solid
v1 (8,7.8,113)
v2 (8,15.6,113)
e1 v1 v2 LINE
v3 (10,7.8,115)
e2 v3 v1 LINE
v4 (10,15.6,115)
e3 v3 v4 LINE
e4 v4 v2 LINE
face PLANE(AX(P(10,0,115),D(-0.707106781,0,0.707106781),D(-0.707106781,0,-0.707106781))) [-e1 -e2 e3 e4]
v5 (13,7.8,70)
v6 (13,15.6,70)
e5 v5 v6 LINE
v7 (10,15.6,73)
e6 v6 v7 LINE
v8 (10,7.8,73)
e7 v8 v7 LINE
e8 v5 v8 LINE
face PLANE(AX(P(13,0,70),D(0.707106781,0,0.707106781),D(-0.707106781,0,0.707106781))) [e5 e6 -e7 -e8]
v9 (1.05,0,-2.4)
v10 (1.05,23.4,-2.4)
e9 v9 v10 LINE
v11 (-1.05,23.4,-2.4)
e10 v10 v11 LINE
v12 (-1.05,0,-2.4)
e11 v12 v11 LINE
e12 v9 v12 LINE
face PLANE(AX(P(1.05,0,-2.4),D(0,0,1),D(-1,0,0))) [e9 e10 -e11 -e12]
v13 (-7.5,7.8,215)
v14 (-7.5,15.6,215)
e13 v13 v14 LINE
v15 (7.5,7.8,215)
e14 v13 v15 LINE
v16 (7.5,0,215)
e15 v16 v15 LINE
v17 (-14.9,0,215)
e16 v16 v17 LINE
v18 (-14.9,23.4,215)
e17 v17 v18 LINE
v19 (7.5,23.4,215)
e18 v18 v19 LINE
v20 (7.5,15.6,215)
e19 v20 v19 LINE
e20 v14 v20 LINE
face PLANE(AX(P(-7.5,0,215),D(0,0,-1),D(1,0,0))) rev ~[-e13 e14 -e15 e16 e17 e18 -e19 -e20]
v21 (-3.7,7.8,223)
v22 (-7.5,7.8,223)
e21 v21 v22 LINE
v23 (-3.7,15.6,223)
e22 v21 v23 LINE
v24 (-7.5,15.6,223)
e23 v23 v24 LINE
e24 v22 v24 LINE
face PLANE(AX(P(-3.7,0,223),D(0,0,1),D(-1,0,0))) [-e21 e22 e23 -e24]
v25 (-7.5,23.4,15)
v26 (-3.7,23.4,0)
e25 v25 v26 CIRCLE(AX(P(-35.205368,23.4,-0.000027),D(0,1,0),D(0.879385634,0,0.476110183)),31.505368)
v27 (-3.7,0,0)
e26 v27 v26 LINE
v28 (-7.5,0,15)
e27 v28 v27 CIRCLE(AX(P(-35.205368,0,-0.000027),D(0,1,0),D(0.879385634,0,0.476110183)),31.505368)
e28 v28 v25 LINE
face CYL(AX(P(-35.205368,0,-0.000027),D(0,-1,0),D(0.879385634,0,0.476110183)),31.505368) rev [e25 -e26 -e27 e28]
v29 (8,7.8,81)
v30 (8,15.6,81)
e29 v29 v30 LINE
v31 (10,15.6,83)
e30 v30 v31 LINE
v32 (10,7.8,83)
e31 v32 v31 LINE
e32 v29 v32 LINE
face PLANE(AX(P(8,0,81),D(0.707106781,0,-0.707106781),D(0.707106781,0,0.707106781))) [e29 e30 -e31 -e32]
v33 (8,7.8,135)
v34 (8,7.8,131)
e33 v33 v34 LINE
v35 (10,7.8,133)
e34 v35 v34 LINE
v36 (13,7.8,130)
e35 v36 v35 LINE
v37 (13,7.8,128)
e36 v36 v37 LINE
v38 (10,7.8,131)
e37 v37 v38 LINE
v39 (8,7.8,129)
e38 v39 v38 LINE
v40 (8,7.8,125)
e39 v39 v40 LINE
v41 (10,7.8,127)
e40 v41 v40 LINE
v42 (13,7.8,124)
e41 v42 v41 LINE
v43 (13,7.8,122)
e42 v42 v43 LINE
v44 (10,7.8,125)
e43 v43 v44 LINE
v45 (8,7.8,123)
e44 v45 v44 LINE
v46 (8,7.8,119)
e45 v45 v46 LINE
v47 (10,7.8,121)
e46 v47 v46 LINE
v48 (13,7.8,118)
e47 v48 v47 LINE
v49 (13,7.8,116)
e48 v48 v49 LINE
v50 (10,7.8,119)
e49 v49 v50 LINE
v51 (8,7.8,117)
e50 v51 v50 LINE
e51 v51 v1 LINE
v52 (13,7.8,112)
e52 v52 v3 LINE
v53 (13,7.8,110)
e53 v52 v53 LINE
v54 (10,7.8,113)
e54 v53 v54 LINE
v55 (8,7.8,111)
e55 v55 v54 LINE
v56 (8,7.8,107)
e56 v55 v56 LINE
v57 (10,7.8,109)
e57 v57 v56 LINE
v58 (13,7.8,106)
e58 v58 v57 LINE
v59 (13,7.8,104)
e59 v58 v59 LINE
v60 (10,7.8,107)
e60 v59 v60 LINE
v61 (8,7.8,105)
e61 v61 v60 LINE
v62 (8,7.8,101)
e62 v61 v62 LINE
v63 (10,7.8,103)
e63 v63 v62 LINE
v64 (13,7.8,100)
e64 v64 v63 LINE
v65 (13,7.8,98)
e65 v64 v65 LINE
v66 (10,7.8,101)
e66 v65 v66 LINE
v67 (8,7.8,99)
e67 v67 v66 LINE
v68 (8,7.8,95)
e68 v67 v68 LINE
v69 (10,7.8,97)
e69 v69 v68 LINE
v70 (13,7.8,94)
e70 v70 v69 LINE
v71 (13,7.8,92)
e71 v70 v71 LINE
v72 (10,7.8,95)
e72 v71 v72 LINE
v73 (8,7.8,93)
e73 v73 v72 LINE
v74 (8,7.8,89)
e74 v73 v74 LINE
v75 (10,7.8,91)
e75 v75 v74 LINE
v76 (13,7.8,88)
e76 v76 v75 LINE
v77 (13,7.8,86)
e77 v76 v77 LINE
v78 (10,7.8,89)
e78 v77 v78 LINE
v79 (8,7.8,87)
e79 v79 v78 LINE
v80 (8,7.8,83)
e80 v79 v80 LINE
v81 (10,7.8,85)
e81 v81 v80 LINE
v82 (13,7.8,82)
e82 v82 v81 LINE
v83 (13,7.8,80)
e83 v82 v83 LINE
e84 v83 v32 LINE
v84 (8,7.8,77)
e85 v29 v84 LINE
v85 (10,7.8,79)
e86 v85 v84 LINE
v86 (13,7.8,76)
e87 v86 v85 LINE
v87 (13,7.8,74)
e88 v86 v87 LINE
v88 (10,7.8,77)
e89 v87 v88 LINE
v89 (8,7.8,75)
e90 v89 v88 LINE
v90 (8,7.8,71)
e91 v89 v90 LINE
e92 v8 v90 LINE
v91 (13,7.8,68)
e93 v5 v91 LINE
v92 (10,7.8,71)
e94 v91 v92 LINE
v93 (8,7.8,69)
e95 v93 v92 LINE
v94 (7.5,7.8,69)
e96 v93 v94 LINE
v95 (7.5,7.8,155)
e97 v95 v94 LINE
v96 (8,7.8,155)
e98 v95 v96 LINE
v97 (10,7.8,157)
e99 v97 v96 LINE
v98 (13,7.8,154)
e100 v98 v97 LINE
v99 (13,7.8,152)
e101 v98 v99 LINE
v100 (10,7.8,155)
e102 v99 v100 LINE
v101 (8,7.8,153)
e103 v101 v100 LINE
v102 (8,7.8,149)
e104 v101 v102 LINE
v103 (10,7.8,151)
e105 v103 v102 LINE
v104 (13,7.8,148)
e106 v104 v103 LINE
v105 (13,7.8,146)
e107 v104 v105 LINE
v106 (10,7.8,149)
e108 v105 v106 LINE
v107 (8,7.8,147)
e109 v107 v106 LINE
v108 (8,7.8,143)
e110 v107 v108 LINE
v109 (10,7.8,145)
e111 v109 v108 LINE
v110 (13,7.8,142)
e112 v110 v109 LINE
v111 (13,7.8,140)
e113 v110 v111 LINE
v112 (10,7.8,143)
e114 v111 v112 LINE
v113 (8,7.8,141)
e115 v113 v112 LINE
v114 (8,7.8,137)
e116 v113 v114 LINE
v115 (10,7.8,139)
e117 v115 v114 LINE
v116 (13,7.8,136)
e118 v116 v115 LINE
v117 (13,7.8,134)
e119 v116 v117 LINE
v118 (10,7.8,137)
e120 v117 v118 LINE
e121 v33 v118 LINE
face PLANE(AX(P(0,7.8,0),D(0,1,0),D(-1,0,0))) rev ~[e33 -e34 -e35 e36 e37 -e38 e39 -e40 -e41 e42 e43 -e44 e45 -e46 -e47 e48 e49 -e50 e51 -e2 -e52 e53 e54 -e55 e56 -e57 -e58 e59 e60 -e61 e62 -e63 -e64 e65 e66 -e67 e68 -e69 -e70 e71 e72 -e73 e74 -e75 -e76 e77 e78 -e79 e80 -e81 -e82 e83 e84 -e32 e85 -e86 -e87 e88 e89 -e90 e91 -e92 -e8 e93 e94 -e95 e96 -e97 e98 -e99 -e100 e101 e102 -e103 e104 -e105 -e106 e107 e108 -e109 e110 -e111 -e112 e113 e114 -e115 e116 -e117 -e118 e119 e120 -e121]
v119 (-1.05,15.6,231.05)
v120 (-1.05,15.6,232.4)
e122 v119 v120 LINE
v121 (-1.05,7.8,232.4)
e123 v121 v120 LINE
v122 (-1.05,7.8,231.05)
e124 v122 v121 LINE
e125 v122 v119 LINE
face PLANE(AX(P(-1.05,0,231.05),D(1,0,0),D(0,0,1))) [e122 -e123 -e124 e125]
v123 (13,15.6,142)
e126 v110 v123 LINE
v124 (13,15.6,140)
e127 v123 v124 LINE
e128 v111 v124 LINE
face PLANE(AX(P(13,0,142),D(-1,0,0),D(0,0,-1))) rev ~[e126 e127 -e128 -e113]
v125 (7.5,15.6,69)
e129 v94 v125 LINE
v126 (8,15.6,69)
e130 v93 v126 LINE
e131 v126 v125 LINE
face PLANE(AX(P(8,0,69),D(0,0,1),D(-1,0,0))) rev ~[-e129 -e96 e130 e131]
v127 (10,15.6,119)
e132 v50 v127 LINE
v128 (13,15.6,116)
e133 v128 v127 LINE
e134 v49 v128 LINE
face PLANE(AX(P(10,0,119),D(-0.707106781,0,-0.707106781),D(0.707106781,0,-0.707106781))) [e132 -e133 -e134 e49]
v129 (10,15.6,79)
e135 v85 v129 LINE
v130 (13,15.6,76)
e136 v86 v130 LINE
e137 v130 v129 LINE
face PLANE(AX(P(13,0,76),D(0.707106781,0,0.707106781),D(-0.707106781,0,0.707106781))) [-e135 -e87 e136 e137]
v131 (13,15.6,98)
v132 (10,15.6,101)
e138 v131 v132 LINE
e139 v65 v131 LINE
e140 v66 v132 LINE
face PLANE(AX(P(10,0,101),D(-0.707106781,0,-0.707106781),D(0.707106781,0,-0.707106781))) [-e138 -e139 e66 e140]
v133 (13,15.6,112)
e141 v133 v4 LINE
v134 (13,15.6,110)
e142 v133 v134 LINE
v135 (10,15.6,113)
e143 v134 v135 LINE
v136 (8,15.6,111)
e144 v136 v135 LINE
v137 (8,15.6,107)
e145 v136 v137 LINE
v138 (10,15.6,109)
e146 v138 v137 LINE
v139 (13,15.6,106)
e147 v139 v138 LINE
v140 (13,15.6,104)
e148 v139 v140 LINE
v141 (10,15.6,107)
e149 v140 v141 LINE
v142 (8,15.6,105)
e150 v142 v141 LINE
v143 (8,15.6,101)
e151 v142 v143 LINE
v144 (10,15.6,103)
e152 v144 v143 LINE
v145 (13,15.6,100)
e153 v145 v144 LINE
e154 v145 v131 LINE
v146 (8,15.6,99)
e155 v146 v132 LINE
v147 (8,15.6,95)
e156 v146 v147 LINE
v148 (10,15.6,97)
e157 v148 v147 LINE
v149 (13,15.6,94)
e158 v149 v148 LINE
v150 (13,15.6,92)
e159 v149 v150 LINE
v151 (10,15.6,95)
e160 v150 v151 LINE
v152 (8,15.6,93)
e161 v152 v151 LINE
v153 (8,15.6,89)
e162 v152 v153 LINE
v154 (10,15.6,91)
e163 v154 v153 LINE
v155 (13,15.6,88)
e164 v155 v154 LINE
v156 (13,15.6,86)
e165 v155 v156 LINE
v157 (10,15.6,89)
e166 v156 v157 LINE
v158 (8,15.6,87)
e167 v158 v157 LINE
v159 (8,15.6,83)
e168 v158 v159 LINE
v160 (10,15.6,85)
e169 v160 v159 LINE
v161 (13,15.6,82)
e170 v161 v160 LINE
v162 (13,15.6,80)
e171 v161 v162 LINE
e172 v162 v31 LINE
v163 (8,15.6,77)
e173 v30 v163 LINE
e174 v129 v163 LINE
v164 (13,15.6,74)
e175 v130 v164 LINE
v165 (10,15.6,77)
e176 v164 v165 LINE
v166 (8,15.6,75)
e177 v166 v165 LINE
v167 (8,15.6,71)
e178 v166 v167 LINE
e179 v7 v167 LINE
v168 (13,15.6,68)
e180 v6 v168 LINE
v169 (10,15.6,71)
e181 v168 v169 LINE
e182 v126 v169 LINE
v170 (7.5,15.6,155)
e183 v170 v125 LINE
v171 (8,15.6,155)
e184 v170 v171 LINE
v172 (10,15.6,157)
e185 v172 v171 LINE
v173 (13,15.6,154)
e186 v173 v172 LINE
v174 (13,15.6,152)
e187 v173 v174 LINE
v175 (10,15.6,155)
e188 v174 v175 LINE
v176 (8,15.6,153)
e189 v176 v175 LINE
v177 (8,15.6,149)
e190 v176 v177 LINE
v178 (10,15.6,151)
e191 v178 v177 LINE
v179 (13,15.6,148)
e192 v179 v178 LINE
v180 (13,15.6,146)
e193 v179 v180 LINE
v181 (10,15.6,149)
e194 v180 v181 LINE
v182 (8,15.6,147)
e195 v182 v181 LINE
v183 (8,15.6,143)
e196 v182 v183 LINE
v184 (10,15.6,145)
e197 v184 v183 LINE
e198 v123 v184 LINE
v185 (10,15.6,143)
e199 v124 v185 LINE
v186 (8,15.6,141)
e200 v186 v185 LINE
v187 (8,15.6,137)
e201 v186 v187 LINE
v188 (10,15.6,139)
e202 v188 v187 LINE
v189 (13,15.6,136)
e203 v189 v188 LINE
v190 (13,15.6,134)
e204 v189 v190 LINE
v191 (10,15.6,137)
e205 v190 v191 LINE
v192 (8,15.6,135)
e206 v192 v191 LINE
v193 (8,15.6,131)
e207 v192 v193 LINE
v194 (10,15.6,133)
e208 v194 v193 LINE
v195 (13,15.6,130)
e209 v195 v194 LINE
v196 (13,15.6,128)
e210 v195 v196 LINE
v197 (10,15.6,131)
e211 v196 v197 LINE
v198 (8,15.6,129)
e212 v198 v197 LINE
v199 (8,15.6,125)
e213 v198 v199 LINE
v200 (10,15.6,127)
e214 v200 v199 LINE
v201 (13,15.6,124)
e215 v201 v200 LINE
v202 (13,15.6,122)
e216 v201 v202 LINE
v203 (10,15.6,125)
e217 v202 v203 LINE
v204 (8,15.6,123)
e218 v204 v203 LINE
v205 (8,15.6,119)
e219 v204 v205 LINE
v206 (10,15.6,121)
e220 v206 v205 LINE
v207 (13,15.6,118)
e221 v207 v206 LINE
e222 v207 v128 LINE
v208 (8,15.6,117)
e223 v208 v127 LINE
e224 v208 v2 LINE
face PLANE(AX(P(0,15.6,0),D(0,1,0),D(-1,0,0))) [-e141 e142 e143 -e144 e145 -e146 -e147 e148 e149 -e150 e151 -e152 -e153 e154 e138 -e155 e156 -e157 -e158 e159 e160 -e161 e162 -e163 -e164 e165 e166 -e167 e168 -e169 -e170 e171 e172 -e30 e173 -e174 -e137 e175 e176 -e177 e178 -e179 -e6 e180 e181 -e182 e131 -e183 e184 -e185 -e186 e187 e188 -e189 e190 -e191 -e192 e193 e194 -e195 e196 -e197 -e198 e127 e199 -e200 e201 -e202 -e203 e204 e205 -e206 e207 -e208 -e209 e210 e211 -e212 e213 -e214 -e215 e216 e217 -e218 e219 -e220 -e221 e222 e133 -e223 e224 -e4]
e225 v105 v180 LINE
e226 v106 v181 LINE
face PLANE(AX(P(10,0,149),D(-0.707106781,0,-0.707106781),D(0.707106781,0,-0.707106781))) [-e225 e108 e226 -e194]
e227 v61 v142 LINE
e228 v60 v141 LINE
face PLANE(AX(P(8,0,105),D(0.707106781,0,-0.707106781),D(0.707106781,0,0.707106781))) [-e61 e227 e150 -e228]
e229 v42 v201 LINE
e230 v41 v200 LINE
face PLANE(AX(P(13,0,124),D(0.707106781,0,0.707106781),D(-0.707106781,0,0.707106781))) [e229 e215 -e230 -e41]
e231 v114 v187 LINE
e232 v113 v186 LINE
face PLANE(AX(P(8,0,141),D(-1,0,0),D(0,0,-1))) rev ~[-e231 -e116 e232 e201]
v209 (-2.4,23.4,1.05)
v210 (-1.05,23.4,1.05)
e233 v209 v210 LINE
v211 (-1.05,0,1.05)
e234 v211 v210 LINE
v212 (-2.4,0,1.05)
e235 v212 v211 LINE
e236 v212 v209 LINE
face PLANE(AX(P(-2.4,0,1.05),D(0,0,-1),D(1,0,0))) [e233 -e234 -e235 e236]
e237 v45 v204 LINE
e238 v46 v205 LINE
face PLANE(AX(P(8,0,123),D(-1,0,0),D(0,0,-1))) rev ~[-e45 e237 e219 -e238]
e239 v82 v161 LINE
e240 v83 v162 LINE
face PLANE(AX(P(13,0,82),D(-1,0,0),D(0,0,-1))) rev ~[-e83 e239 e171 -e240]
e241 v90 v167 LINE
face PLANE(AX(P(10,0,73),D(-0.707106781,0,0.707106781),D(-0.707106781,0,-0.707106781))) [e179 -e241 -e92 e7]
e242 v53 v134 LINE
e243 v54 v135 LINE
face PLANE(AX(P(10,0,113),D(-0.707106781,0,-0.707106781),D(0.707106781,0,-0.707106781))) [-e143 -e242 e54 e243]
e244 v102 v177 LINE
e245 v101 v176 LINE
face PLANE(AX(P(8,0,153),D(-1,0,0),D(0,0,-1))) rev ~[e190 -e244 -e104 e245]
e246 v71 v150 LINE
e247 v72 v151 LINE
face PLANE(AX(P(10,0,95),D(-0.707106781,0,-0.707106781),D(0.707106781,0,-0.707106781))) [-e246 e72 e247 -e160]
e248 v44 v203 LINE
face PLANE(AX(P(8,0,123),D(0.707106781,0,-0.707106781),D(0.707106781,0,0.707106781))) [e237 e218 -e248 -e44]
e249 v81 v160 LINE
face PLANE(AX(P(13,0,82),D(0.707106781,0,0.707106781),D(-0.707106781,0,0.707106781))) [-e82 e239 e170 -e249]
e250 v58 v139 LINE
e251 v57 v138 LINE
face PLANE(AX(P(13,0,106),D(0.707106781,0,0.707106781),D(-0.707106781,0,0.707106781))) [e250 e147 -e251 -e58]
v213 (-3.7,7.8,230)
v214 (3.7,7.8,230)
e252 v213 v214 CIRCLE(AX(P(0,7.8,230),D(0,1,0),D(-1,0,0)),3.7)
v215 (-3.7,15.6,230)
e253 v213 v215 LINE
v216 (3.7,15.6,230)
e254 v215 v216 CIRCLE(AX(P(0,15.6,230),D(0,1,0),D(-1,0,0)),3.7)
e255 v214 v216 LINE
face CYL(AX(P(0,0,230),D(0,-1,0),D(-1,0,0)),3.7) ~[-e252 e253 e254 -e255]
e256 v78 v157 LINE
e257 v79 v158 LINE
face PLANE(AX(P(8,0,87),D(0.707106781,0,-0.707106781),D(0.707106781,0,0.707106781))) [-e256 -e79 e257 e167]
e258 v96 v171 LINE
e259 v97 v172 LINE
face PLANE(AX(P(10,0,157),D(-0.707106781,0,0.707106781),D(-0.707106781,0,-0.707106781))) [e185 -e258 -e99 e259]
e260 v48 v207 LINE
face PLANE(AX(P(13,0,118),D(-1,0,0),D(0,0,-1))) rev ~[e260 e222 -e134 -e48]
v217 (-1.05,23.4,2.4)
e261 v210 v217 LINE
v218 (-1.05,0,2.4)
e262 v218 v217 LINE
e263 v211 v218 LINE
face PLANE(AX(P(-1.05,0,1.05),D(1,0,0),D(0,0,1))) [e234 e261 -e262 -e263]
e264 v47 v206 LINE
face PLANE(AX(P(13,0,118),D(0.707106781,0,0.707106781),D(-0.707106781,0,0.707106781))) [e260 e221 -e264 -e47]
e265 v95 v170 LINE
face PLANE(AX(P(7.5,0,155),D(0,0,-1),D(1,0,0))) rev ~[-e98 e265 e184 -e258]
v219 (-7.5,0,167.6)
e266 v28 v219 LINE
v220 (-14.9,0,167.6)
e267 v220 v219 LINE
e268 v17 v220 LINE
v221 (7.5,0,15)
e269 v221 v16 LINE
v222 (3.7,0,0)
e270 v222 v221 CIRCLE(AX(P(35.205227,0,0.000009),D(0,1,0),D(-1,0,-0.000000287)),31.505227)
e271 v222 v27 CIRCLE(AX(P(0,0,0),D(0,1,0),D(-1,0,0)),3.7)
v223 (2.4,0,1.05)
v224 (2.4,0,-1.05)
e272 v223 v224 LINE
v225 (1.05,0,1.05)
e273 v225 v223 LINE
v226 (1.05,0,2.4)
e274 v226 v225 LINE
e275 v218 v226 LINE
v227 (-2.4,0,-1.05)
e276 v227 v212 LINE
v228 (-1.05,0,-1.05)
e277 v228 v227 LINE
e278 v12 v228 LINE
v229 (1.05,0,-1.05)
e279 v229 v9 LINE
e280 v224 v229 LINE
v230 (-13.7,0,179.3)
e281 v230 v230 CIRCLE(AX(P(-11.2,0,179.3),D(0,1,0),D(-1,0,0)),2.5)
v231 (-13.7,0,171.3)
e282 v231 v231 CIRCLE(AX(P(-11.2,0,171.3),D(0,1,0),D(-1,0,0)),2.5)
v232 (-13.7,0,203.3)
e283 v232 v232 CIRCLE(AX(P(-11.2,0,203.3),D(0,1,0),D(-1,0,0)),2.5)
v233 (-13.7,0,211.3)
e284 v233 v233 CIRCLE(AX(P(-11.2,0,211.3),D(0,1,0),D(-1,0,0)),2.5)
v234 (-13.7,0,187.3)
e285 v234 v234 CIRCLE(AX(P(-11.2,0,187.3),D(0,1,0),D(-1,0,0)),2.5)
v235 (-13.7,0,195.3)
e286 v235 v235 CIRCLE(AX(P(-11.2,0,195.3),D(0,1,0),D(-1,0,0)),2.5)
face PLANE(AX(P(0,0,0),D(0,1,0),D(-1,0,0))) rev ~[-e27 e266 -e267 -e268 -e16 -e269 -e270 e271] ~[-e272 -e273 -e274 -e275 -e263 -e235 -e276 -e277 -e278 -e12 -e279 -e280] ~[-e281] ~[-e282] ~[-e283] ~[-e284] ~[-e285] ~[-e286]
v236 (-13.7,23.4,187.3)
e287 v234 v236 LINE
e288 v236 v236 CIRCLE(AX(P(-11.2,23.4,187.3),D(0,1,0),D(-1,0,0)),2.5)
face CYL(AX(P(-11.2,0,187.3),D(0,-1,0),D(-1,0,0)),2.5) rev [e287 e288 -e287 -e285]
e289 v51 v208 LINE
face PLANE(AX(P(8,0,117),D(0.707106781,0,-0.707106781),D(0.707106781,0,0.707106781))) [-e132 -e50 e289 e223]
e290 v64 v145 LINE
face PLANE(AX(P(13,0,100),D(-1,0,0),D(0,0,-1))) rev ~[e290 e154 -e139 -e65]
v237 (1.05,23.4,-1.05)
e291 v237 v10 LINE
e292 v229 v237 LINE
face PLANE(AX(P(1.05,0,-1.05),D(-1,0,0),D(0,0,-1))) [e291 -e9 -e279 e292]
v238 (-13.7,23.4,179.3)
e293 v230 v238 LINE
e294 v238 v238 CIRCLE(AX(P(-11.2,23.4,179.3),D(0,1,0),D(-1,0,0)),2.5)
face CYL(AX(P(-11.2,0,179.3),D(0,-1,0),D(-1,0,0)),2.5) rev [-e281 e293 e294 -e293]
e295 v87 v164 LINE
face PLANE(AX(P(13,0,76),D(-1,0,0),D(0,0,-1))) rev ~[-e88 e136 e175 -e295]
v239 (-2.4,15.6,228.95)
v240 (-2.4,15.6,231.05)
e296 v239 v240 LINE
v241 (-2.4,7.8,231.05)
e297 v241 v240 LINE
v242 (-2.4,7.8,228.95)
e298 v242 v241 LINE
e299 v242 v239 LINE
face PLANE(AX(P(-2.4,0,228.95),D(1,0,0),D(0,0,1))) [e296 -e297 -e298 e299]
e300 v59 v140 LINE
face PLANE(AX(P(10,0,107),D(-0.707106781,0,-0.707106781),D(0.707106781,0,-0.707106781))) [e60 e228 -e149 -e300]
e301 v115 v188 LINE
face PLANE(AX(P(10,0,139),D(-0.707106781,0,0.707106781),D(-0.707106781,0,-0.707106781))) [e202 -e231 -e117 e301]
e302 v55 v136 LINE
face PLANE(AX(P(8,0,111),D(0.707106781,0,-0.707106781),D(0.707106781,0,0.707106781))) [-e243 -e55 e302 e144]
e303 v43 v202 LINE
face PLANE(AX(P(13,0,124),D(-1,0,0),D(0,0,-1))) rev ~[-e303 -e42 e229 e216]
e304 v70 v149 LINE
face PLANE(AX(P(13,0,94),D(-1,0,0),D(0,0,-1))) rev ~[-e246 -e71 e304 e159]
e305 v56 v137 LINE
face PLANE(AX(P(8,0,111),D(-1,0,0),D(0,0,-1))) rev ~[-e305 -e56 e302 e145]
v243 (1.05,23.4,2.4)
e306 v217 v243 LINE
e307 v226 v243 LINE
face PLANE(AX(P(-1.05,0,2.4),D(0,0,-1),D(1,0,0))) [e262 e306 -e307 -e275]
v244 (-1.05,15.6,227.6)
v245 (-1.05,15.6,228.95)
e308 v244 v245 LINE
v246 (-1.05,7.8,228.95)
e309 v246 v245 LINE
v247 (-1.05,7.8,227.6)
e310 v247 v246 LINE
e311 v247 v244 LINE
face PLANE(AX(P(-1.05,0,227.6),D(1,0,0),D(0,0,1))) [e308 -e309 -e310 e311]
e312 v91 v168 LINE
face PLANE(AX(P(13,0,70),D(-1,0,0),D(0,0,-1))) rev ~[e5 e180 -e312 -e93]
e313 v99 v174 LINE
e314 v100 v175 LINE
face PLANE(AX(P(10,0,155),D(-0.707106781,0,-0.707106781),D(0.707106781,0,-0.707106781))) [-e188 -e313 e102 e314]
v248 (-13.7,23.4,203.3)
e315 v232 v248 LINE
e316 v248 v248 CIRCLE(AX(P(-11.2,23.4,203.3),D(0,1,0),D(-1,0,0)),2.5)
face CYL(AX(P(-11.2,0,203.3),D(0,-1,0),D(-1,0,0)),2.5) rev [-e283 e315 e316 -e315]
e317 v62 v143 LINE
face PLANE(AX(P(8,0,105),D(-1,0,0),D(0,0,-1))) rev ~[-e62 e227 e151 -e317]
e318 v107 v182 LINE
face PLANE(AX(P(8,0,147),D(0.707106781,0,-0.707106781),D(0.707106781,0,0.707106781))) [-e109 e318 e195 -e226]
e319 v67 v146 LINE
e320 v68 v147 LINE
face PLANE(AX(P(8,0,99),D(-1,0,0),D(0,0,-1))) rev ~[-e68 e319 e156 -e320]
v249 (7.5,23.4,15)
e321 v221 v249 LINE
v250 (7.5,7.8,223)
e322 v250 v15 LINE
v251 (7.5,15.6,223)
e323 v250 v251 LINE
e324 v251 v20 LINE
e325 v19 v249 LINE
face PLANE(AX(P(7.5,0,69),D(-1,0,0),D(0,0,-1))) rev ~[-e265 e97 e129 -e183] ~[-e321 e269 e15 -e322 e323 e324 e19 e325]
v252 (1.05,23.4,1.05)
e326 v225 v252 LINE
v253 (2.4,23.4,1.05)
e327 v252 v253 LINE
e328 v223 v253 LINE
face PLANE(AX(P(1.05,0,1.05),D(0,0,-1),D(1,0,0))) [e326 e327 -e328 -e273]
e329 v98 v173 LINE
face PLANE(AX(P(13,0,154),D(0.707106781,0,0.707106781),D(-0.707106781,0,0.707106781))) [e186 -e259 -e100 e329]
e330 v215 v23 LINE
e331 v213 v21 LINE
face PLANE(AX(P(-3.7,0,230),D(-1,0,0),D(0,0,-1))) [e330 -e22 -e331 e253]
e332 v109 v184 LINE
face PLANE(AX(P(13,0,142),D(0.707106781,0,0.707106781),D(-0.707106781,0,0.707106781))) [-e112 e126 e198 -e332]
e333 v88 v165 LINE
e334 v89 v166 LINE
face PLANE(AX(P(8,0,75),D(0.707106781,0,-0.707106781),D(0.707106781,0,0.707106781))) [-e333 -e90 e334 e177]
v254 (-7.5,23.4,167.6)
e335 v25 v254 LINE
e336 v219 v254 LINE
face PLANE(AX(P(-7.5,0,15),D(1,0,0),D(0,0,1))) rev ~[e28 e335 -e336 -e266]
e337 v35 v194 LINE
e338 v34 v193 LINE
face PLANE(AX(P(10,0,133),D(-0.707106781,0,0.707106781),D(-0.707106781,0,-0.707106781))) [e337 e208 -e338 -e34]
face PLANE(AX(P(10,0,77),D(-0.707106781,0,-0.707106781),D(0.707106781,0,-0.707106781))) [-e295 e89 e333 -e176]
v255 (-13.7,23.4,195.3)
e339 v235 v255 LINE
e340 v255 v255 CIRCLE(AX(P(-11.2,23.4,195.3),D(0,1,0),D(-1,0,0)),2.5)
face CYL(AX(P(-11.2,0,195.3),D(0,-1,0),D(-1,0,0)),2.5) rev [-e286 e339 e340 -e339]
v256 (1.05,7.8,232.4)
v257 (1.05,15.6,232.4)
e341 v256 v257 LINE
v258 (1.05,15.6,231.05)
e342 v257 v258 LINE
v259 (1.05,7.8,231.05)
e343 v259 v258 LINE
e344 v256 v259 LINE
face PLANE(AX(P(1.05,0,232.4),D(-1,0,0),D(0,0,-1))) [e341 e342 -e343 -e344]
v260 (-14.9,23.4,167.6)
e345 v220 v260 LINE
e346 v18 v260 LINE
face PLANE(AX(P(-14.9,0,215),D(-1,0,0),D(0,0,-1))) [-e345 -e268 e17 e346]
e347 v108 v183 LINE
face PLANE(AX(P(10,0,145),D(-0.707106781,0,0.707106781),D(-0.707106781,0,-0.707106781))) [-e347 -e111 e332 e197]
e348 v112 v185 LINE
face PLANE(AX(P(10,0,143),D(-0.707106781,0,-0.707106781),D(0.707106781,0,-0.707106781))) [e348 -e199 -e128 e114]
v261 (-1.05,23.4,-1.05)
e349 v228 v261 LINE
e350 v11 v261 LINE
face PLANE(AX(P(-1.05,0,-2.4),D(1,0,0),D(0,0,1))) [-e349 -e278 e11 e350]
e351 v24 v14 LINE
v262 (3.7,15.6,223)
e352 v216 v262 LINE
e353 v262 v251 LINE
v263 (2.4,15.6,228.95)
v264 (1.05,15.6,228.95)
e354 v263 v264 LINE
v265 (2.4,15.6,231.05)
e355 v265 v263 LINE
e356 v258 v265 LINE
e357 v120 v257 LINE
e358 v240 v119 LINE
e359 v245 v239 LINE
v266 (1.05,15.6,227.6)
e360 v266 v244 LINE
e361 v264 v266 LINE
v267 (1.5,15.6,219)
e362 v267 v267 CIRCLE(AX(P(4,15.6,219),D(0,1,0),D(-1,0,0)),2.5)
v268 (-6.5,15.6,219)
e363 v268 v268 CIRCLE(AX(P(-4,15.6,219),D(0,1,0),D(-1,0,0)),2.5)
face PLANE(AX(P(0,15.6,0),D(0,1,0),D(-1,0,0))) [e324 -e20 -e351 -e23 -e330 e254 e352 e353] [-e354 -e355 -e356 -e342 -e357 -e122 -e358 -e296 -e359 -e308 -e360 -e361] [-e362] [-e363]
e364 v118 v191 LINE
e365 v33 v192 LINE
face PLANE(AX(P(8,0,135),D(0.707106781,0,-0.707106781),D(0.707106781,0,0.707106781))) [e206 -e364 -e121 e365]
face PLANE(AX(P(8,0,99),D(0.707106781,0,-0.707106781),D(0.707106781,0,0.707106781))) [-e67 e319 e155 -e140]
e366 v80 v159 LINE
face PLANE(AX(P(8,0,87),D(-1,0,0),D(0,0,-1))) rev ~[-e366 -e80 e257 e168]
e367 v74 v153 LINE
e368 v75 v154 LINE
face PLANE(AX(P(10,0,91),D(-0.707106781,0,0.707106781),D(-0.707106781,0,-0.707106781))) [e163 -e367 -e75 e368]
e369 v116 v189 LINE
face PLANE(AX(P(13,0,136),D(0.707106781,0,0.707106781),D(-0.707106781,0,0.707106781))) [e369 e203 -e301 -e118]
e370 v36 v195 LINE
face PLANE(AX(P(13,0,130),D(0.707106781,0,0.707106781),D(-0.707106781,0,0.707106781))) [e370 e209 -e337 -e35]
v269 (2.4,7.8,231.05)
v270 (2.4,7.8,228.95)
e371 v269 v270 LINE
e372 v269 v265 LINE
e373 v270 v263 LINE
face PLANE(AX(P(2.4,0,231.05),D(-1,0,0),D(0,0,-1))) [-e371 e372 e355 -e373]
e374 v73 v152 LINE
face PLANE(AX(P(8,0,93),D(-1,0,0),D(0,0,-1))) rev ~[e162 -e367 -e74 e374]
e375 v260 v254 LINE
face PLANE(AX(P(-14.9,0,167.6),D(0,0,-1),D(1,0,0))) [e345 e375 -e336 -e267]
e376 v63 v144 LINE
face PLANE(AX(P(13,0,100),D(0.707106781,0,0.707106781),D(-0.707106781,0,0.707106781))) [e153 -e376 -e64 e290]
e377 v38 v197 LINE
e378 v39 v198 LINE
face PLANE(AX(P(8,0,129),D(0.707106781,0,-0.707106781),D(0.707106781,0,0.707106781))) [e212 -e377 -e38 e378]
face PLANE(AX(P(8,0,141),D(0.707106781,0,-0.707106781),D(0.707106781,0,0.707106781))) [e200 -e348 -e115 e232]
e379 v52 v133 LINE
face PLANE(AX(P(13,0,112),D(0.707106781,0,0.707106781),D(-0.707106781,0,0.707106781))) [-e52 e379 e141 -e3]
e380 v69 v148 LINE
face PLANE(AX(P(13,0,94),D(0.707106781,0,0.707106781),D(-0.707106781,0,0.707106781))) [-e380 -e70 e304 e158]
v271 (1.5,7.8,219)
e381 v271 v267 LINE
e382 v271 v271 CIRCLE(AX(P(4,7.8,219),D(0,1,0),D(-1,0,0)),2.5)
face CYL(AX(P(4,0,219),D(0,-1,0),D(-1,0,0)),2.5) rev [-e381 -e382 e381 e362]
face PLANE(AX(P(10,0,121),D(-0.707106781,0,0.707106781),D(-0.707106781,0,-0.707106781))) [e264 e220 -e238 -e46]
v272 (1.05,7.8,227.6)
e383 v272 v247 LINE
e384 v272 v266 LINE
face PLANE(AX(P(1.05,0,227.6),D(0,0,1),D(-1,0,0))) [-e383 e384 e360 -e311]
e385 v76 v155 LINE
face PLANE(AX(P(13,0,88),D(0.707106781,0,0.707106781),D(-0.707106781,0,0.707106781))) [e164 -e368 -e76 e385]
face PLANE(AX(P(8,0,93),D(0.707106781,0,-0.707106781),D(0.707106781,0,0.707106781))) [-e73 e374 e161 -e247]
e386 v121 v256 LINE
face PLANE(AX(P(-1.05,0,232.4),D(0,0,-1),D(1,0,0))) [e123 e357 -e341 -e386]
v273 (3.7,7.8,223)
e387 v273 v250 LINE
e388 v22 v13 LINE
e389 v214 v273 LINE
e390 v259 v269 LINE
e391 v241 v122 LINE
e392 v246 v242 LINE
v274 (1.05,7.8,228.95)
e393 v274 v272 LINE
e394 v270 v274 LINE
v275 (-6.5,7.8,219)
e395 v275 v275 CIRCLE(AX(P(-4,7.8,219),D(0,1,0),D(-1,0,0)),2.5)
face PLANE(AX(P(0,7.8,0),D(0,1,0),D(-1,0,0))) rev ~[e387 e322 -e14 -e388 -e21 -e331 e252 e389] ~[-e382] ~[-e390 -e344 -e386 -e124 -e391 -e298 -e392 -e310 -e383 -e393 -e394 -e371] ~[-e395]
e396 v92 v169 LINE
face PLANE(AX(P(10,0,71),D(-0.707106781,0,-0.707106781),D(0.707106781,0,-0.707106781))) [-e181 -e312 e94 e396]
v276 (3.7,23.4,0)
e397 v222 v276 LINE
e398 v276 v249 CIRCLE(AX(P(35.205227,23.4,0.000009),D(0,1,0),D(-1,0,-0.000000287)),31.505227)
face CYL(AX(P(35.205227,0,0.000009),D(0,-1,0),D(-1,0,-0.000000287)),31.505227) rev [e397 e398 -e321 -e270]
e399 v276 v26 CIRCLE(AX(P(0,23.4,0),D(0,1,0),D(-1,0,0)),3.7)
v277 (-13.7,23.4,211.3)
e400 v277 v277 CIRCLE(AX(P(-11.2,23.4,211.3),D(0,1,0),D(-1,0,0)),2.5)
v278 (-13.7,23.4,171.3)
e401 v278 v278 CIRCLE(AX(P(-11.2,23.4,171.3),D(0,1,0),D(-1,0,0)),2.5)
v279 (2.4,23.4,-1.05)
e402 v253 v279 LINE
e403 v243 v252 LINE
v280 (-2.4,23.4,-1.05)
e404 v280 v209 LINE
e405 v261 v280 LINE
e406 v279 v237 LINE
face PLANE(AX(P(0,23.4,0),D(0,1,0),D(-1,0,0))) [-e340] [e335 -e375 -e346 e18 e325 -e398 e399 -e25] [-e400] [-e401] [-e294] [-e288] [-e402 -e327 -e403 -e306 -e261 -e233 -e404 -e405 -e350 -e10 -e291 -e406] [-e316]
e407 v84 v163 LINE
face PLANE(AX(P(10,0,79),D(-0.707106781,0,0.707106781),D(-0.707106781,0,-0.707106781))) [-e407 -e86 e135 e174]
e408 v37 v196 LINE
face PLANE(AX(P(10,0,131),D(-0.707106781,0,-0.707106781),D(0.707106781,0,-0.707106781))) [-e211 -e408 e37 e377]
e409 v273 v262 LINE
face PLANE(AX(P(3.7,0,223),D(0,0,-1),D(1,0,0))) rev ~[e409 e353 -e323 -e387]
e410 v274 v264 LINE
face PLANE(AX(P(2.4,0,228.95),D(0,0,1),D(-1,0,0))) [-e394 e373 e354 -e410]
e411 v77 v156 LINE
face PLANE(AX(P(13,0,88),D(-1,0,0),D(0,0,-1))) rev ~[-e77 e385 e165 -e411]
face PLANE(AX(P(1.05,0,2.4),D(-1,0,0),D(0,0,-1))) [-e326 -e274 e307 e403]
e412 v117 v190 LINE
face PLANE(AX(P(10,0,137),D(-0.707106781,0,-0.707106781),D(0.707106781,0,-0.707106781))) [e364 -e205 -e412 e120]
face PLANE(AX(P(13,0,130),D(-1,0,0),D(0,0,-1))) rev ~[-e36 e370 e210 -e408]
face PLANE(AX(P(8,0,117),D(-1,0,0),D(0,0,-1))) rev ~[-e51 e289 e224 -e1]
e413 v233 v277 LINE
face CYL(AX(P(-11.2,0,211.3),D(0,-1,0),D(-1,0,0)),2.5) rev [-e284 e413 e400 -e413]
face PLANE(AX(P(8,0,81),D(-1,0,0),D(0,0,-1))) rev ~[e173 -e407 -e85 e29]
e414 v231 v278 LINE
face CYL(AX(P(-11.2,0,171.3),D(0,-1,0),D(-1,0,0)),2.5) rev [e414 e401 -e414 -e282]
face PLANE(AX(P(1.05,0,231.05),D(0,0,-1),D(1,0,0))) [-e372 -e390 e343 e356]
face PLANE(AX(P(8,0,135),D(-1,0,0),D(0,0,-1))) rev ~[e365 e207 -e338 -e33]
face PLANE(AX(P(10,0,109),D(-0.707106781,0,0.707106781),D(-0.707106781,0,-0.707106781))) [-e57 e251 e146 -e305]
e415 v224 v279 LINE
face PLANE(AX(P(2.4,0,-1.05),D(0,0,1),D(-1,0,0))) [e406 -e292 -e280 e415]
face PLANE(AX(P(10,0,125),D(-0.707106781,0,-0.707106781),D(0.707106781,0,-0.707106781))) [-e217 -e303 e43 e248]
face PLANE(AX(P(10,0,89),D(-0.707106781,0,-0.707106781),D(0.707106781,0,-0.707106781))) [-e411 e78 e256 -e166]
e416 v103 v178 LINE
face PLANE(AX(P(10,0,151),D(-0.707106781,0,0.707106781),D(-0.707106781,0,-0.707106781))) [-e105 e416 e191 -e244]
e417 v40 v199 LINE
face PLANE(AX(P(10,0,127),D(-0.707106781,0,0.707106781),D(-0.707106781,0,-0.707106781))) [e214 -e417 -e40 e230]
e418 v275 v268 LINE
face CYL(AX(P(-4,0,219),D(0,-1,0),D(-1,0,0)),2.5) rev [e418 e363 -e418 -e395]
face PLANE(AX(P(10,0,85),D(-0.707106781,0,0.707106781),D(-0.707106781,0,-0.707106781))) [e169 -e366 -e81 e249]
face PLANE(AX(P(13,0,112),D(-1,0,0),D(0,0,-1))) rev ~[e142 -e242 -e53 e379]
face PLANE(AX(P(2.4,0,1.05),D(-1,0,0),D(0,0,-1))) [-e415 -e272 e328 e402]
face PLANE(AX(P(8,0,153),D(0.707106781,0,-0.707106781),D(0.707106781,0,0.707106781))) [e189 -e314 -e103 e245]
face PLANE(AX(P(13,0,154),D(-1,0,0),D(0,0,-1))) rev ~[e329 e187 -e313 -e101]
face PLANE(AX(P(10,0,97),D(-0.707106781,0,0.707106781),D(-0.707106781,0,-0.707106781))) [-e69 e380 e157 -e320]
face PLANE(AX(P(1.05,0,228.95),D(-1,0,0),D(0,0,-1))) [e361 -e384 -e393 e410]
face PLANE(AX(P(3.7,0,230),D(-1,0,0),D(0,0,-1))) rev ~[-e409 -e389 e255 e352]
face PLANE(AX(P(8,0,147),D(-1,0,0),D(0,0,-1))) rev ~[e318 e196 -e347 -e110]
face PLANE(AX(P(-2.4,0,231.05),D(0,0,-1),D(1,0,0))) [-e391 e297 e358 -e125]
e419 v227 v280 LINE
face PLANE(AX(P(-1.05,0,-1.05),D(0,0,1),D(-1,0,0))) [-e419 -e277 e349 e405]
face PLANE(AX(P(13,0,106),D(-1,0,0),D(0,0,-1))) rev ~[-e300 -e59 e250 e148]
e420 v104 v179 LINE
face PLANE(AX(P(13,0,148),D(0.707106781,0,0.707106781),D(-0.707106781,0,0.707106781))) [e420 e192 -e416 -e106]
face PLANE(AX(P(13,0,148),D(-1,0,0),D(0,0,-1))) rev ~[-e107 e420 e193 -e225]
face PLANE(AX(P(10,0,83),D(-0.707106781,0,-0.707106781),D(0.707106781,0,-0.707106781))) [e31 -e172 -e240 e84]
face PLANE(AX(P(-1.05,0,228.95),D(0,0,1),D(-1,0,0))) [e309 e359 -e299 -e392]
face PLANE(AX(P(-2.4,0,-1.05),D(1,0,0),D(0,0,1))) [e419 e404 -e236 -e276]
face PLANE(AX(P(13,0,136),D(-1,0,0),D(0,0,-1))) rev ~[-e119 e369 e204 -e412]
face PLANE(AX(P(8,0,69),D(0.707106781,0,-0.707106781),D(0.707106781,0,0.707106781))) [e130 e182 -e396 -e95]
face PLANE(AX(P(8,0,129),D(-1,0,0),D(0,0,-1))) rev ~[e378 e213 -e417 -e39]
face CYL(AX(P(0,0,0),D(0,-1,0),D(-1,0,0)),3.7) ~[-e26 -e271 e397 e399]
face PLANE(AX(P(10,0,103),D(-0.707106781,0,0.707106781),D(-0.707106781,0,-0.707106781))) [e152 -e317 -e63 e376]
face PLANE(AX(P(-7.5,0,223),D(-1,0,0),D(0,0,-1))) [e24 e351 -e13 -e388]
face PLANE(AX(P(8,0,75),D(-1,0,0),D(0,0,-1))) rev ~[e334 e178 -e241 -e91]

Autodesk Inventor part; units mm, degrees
ref_plane "YZ Plane" through (0, 0, 0) normal (1, 0, 0) x (0, 1, 0)
ref_plane "XZ Plane" through (0, 0, 0) normal (0, 1, 0) x (-1, 0, 0)
ref_plane "XY Plane" through (0, 0, 0) normal (0, 0, 1) x (1, 0, 0)
sketch "Sketch2" plane through (0, 0, 0) normal (0, 1, 0) x (-1, 0, 0)
  line L0 (7.5, 215) -> (-7.5, 215)
  line L1 (-7.5, 215) -> (-7.5, 15)
  line L2 (-7.5, 15) -> (7.5, 15)
  line L3 (7.5, 15) -> (7.5, 215)
  circle A0 centre (0, 0) radius 3.7
  line L4 (0, 215) -> (0, 15) construction
  line L5 (7.5, 215) -> (14.9, 215)
  line L6 (14.9, 215) -> (14.9, 167.6)
  line L7 (14.9, 167.6) -> (7.5, 167.6)
  line L8 (7.5, 167.6) -> (7.5, 215)
  arc A1 (7.5, 15) -> (3.7, 0) centre (35.2053, 0) ccw
  arc A2 (-3.7, 0) -> (-7.5, 15) centre (-35.2053, 0) ccw
  circle A3 centre (11.2, 171.3) radius 2.5
  circle A4 centre (11.2, 179.3) radius 2.5
  circle A5 centre (11.2, 187.3) radius 2.5
  circle A6 centre (11.2, 195.3) radius 2.5
  circle A7 centre (11.2, 203.3) radius 2.5
  circle A8 centre (11.2, 211.3) radius 2.5
  line L9 (-8, 117) -> (-10, 119)
  line L10 (-10, 119) -> (-12, 117)
  line L11 (-12, 117) -> (-13, 118) construction
  line L12 (-13, 118) -> (-10, 121)
  line L13 (-10, 121) -> (-8, 119)
  line L14 (-13, 118) -> (-13, 116)
  line L15 (-13, 116) -> (-12, 117)
  line L16 (-7.5, 155) -> (-8, 155)
  line L17 (-8, 155) -> (-8, 69)
  line L18 (-8, 69) -> (-7.5, 69)
  line L19 (-7.5, 69) -> (-7.5, 155)
  line L20 (-8, 119) -> (-8, 117)
  line L21 (-8, 153) -> (-10, 155)
  line L22 (-10, 155) -> (-12, 153)
  line L23 (-13, 154) -> (-10, 157)
  line L24 (-12, 153) -> (-13, 154) construction
  line L25 (-13, 154) -> (-13, 152)
  line L26 (-13, 152) -> (-12, 153)
  line L27 (-10, 157) -> (-8, 155)
  line L28 (-8, 155) -> (-8, 153)
  line L29 (-8, 147) -> (-10, 149)
  line L30 (-10, 149) -> (-12, 147)
  line L31 (-13, 148) -> (-10, 151)
  line L32 (-12, 147) -> (-13, 148) construction
  line L33 (-13, 148) -> (-13, 146)
  line L34 (-13, 146) -> (-12, 147)
  line L35 (-10, 151) -> (-8, 149)
  line L36 (-8, 149) -> (-8, 147)
  line L37 (-8, 141) -> (-10, 143)
  line L38 (-10, 143) -> (-12, 141)
  line L39 (-13, 142) -> (-10, 145)
  line L40 (-12, 141) -> (-13, 142) construction
  line L41 (-13, 142) -> (-13, 140)
  line L42 (-13, 140) -> (-12, 141)
  line L43 (-10, 145) -> (-8, 143)
  line L44 (-8, 143) -> (-8, 141)
  line L45 (-8, 135) -> (-10, 137)
  line L46 (-10, 137) -> (-12, 135)
  line L47 (-13, 136) -> (-10, 139)
  line L48 (-12, 135) -> (-13, 136) construction
  line L49 (-13, 136) -> (-13, 134)
  line L50 (-13, 134) -> (-12, 135)
  line L51 (-10, 139) -> (-8, 137)
  line L52 (-8, 137) -> (-8, 135)
  line L53 (-8, 129) -> (-10, 131)
  line L54 (-10, 131) -> (-12, 129)
  line L55 (-13, 130) -> (-10, 133)
  line L56 (-12, 129) -> (-13, 130) construction
  line L57 (-13, 130) -> (-13, 128)
  line L58 (-13, 128) -> (-12, 129)
  line L59 (-10, 133) -> (-8, 131)
  line L60 (-8, 131) -> (-8, 129)
  line L61 (-8, 123) -> (-10, 125)
  line L62 (-10, 125) -> (-12, 123)
  line L63 (-13, 124) -> (-10, 127)
  line L64 (-12, 123) -> (-13, 124) construction
  line L65 (-13, 124) -> (-13, 122)
  line L66 (-13, 122) -> (-12, 123)
  line L67 (-10, 127) -> (-8, 125)
  line L68 (-8, 125) -> (-8, 123)
  line L69 (-8, 111) -> (-10, 113)
  line L70 (-10, 113) -> (-12, 111)
  line L71 (-13, 112) -> (-10, 115)
  line L72 (-12, 111) -> (-13, 112) construction
  line L73 (-13, 112) -> (-13, 110)
  line L74 (-13, 110) -> (-12, 111)
  line L75 (-10, 115) -> (-8, 113)
  line L76 (2.4, 1.05) -> (-2.4, 1.05)
  line L77 (-2.4, 1.05) -> (-2.4, -1.05)
  line L78 (-2.4, -1.05) -> (2.4, -1.05)
  line L79 (2.4, -1.05) -> (2.4, 1.05)
  line L80 (1.05, 2.4) -> (-1.05, 2.4)
  line L81 (-1.05, 2.4) -> (-1.05, -2.4)
  line L82 (-1.05, -2.4) -> (1.05, -2.4)
  line L83 (1.05, -2.4) -> (1.05, 2.4)
  line L84 (7.5, 215) -> (-7.5, 215)
  circle A9 centre (0, 230) radius 3.7
  line L85 (-2.4, 228.95) -> (2.4, 228.95)
  line L86 (2.4, 228.95) -> (2.4, 231.05)
  line L87 (2.4, 231.05) -> (-2.4, 231.05)
  line L88 (-2.4, 231.05) -> (-2.4, 228.95)
  line L89 (-1.05, 227.6) -> (1.05, 227.6)
  line L90 (1.05, 227.6) -> (1.05, 232.4)
  line L91 (1.05, 232.4) -> (-1.05, 232.4)
  line L92 (-1.05, 232.4) -> (-1.05, 227.6)
  line L93 (0, 232.4) -> (0, 227.6) construction
  line L94 (3.7, 230) -> (3.7, 223)
  line L95 (3.7, 223) -> (7.5, 223)
  line L96 (7.5, 223) -> (7.5, 215)
  line L97 (-3.7, 230) -> (-3.7, 223)
  line L98 (-3.7, 223) -> (-7.5, 223)
  line L99 (-7.5, 223) -> (-7.5, 215)
  circle A10 centre (-4, 219) radius 2.5
  circle A11 centre (4, 219) radius 2.5
  line L100 (-13, 106) -> (-10, 109)
  line L101 (-8, 105) -> (-10, 107)
  line L102 (-10, 107) -> (-12, 105)
  line L103 (-12, 105) -> (-13, 106) construction
  line L104 (-13, 104) -> (-12, 105)
  line L105 (-13, 106) -> (-13, 104)
  line L106 (-10, 109) -> (-8, 107)
  line L107 (-13, 100) -> (-10, 103)
  line L108 (-8, 99) -> (-10, 101)
  line L109 (-10, 101) -> (-12, 99)
  line L110 (-12, 99) -> (-13, 100) construction
  line L111 (-13, 98) -> (-12, 99)
  line L112 (-13, 100) -> (-13, 98)
  line L113 (-10, 103) -> (-8, 101)
  line L114 (-13, 94) -> (-10, 97)
  line L115 (-8, 93) -> (-10, 95)
  line L116 (-10, 95) -> (-12, 93)
  line L117 (-12, 93) -> (-13, 94) construction
  line L118 (-13, 92) -> (-12, 93)
  line L119 (-13, 94) -> (-13, 92)
  line L120 (-10, 97) -> (-8, 95)
  line L121 (-13, 88) -> (-10, 91)
  line L122 (-8, 87) -> (-10, 89)
  line L123 (-10, 89) -> (-12, 87)
  line L124 (-12, 87) -> (-13, 88) construction
  line L125 (-13, 86) -> (-12, 87)
  line L126 (-13, 88) -> (-13, 86)
  line L127 (-10, 91) -> (-8, 89)
  line L128 (-13, 82) -> (-10, 85)
  line L129 (-8, 81) -> (-10, 83)
  line L130 (-10, 83) -> (-12, 81)
  line L131 (-12, 81) -> (-13, 82) construction
  line L132 (-13, 80) -> (-12, 81)
  line L133 (-13, 82) -> (-13, 80)
  line L134 (-10, 85) -> (-8, 83)
  line L135 (-13, 76) -> (-10, 79)
  line L136 (-8, 75) -> (-10, 77)
  line L137 (-10, 77) -> (-12, 75)
  line L138 (-12, 75) -> (-13, 76) construction
  line L139 (-13, 74) -> (-12, 75)
  line L140 (-13, 76) -> (-13, 74)
  line L141 (-10, 79) -> (-8, 77)
  line L142 (-13, 70) -> (-10, 73)
  line L143 (-8, 69) -> (-10, 71)
  line L144 (-10, 71) -> (-12, 69)
  line L145 (-12, 69) -> (-13, 70) construction
  line L146 (-13, 68) -> (-12, 69)
  line L147 (-13, 70) -> (-13, 68)
  line L148 (-10, 73) -> (-8, 71)
  point P0 (7.5, 115)
  point P1 (0, 115)
  point P2 (11.2, 167.6)
  point P3 (2.4, 0)
  point P4 (1.05, 0)
  point P5 (0, 2.4)
  point P6 (0, 1.05)
  point P7 (0, 147.3448)
  point P8 (-2.4, 230)
  point P9 (-1.05, 230)
  point P10 (0, 228.95)
  point P11 (0, 215)
  point P12 (2.4, 230)
  point P13 (-1.05, 1.05)
  point P14 (1.05, 1.05)
  point P15 (1.05, -1.05)
  point P16 (-1.05, -1.05)
  point P17 (7.5, 167.6)
  point P18 (-8, 153)
  point P19 (-8, 147)
  point P20 (-8, 141)
  point P21 (-8, 135)
  point P22 (-8, 129)
  point P23 (-8, 123)
  point P24 (-8, 117)
  point P25 (-8, 111)
  point P26 (-7.5, 69)
  point P27 (1.05, 228.95)
  point P28 (-1.05, 228.95)
  point P29 (-1.05, 231.05)
  point P30 (1.05, 231.05)
  dimension "d6" = 7.4
  dimension "d7" = 15
  dimension "d9" = 200
  dimension "d10" = 7.4
  dimension "d11" = 15
  dimension "d12" = 47.4
  dimension "d13" = 5
  dimension "d14" = 3.7
  dimension "d15" = 5
  dimension "d16" = 8
  dimension "d17" = 5
  dimension "d18" = 5
  dimension "d19" = 8
  dimension "d20" = 5
  dimension "d21" = 5
  dimension "d22" = 8
  dimension "d23" = 8
  dimension "d24" = 8
  dimension "d31" = 2
  dimension "d41" = 0.5
  dimension "d42" = 60
  dimension "d43" = 86
  dimension "d44" = 2
  dimension "d47" = 5
  dimension "d48" = 2
  dimension "d49" = 2
  dimension "d50" = 5
  dimension "d51" = 2
  dimension "d52" = 2
  dimension "d53" = 5
  dimension "d54" = 2
  dimension "d55" = 2
  dimension "d56" = 5
  dimension "d57" = 2
  dimension "d58" = 2
  dimension "d59" = 5
  dimension "d60" = 6
  dimension "d62" = 6
  dimension "d63" = 6
  dimension "d64" = 2
  dimension "d65" = 2
  dimension "d66" = 5
  dimension "d67" = 2
  dimension "d68" = 2
  dimension "d69" = 5
  dimension "d70" = 6
  dimension "d71" = 6
  dimension "d72" = 6
  dimension "d73" = 2
  dimension "d74" = 2
  dimension "d75" = 5
  dimension "d76" = 6
  dimension "d77" = 2.1
  dimension "d79" = 4.8
  dimension "d80" = 2.1
  dimension "d81" = 4.8
  dimension "d82" = 7.4
  dimension "d83" = 15
  dimension "d85" = 2.1
  dimension "d86" = 4.8
  dimension "d87" = 2.1
  dimension "d88" = 4.8
  dimension "d89" = 15
  dimension "d92" = 5
extrude "Extrusion1" add sketch "Sketch2" along normal blind 23.4 contours L3 L2 L1 L0 | L5 L6 L7 L3 | A1 A0 A2 L2 | A0
extrude "Extrusion2" add sketch "Sketch2" along normal blind 15.6 contours L0 L99 L98 L97 A9 L94 L95 L96 | L1 L18 L17 L16 | L17 L21 L22 L26 L25 L23 L27 | A9 | L143 L144 L146 L147 L142 L148 L17 | L17 L29 L30 L34 L33 L31 L35 | L136 L137 L139 L140 L135 L141 L17 | L17 L37 L38 L42 L41 L39 L43 | L129 L130 L132 L133 L128 L134 L17 | L17 L45 L46 L50 L49 L47 L51 | L122 L123 L125 L126 L121 L127 L17 | L17 L53 L54 L58 L57 L55 L59 | L115 L116 L118 L119 L114 L120 L17 | L17 L61 L62 L66 L65 L63 L67 | L108 L109 L111 L112 L107 L113 L17 | L17 L9 L10 L15 L14 L12 L13 | L101 L102 L104 L105 L100 L106 L17 | L17 L69 L70 L74 L73 L71 L75
extrude "Extrusion3" cut sketch "Sketch2" along normal blind 7.8 contours L0 L99 L98 L97 A9 L94 L95 L96 | L1 L18 L17 L16 | L17 L21 L22 L26 L25 L23 L27 | A9 | L143 L144 L146 L147 L142 L148 L17 | L17 L29 L30 L34 L33 L31 L35 | L136 L137 L139 L140 L135 L141 L17 | L17 L37 L38 L42 L41 L39 L43 | L129 L130 L132 L133 L128 L134 L17 | L17 L45 L46 L50 L49 L47 L51 | L122 L123 L125 L126 L121 L127 L17 | L17 L53 L54 L58 L57 L55 L59 | L115 L116 L118 L119 L114 L120 L17 | L17 L61 L62 L66 L65 L63 L67 | L108 L109 L111 L112 L107 L113 L17 | L17 L9 L10 L15 L14 L12 L13 | L101 L102 L104 L105 L100 L106 L17 | L17 L69 L70 L74 L73 L71 L75
equation "\"d10\" = d6"
equation "\"d14\" = 0.5 * d6"
equation "\"d15\" = d13"
equation "\"d18\" = d17"
equation "\"d21\" = d20"
equation "\"d23\" = d16"
equation "\"d24\" = d16"
properties part number "ramiev4"
